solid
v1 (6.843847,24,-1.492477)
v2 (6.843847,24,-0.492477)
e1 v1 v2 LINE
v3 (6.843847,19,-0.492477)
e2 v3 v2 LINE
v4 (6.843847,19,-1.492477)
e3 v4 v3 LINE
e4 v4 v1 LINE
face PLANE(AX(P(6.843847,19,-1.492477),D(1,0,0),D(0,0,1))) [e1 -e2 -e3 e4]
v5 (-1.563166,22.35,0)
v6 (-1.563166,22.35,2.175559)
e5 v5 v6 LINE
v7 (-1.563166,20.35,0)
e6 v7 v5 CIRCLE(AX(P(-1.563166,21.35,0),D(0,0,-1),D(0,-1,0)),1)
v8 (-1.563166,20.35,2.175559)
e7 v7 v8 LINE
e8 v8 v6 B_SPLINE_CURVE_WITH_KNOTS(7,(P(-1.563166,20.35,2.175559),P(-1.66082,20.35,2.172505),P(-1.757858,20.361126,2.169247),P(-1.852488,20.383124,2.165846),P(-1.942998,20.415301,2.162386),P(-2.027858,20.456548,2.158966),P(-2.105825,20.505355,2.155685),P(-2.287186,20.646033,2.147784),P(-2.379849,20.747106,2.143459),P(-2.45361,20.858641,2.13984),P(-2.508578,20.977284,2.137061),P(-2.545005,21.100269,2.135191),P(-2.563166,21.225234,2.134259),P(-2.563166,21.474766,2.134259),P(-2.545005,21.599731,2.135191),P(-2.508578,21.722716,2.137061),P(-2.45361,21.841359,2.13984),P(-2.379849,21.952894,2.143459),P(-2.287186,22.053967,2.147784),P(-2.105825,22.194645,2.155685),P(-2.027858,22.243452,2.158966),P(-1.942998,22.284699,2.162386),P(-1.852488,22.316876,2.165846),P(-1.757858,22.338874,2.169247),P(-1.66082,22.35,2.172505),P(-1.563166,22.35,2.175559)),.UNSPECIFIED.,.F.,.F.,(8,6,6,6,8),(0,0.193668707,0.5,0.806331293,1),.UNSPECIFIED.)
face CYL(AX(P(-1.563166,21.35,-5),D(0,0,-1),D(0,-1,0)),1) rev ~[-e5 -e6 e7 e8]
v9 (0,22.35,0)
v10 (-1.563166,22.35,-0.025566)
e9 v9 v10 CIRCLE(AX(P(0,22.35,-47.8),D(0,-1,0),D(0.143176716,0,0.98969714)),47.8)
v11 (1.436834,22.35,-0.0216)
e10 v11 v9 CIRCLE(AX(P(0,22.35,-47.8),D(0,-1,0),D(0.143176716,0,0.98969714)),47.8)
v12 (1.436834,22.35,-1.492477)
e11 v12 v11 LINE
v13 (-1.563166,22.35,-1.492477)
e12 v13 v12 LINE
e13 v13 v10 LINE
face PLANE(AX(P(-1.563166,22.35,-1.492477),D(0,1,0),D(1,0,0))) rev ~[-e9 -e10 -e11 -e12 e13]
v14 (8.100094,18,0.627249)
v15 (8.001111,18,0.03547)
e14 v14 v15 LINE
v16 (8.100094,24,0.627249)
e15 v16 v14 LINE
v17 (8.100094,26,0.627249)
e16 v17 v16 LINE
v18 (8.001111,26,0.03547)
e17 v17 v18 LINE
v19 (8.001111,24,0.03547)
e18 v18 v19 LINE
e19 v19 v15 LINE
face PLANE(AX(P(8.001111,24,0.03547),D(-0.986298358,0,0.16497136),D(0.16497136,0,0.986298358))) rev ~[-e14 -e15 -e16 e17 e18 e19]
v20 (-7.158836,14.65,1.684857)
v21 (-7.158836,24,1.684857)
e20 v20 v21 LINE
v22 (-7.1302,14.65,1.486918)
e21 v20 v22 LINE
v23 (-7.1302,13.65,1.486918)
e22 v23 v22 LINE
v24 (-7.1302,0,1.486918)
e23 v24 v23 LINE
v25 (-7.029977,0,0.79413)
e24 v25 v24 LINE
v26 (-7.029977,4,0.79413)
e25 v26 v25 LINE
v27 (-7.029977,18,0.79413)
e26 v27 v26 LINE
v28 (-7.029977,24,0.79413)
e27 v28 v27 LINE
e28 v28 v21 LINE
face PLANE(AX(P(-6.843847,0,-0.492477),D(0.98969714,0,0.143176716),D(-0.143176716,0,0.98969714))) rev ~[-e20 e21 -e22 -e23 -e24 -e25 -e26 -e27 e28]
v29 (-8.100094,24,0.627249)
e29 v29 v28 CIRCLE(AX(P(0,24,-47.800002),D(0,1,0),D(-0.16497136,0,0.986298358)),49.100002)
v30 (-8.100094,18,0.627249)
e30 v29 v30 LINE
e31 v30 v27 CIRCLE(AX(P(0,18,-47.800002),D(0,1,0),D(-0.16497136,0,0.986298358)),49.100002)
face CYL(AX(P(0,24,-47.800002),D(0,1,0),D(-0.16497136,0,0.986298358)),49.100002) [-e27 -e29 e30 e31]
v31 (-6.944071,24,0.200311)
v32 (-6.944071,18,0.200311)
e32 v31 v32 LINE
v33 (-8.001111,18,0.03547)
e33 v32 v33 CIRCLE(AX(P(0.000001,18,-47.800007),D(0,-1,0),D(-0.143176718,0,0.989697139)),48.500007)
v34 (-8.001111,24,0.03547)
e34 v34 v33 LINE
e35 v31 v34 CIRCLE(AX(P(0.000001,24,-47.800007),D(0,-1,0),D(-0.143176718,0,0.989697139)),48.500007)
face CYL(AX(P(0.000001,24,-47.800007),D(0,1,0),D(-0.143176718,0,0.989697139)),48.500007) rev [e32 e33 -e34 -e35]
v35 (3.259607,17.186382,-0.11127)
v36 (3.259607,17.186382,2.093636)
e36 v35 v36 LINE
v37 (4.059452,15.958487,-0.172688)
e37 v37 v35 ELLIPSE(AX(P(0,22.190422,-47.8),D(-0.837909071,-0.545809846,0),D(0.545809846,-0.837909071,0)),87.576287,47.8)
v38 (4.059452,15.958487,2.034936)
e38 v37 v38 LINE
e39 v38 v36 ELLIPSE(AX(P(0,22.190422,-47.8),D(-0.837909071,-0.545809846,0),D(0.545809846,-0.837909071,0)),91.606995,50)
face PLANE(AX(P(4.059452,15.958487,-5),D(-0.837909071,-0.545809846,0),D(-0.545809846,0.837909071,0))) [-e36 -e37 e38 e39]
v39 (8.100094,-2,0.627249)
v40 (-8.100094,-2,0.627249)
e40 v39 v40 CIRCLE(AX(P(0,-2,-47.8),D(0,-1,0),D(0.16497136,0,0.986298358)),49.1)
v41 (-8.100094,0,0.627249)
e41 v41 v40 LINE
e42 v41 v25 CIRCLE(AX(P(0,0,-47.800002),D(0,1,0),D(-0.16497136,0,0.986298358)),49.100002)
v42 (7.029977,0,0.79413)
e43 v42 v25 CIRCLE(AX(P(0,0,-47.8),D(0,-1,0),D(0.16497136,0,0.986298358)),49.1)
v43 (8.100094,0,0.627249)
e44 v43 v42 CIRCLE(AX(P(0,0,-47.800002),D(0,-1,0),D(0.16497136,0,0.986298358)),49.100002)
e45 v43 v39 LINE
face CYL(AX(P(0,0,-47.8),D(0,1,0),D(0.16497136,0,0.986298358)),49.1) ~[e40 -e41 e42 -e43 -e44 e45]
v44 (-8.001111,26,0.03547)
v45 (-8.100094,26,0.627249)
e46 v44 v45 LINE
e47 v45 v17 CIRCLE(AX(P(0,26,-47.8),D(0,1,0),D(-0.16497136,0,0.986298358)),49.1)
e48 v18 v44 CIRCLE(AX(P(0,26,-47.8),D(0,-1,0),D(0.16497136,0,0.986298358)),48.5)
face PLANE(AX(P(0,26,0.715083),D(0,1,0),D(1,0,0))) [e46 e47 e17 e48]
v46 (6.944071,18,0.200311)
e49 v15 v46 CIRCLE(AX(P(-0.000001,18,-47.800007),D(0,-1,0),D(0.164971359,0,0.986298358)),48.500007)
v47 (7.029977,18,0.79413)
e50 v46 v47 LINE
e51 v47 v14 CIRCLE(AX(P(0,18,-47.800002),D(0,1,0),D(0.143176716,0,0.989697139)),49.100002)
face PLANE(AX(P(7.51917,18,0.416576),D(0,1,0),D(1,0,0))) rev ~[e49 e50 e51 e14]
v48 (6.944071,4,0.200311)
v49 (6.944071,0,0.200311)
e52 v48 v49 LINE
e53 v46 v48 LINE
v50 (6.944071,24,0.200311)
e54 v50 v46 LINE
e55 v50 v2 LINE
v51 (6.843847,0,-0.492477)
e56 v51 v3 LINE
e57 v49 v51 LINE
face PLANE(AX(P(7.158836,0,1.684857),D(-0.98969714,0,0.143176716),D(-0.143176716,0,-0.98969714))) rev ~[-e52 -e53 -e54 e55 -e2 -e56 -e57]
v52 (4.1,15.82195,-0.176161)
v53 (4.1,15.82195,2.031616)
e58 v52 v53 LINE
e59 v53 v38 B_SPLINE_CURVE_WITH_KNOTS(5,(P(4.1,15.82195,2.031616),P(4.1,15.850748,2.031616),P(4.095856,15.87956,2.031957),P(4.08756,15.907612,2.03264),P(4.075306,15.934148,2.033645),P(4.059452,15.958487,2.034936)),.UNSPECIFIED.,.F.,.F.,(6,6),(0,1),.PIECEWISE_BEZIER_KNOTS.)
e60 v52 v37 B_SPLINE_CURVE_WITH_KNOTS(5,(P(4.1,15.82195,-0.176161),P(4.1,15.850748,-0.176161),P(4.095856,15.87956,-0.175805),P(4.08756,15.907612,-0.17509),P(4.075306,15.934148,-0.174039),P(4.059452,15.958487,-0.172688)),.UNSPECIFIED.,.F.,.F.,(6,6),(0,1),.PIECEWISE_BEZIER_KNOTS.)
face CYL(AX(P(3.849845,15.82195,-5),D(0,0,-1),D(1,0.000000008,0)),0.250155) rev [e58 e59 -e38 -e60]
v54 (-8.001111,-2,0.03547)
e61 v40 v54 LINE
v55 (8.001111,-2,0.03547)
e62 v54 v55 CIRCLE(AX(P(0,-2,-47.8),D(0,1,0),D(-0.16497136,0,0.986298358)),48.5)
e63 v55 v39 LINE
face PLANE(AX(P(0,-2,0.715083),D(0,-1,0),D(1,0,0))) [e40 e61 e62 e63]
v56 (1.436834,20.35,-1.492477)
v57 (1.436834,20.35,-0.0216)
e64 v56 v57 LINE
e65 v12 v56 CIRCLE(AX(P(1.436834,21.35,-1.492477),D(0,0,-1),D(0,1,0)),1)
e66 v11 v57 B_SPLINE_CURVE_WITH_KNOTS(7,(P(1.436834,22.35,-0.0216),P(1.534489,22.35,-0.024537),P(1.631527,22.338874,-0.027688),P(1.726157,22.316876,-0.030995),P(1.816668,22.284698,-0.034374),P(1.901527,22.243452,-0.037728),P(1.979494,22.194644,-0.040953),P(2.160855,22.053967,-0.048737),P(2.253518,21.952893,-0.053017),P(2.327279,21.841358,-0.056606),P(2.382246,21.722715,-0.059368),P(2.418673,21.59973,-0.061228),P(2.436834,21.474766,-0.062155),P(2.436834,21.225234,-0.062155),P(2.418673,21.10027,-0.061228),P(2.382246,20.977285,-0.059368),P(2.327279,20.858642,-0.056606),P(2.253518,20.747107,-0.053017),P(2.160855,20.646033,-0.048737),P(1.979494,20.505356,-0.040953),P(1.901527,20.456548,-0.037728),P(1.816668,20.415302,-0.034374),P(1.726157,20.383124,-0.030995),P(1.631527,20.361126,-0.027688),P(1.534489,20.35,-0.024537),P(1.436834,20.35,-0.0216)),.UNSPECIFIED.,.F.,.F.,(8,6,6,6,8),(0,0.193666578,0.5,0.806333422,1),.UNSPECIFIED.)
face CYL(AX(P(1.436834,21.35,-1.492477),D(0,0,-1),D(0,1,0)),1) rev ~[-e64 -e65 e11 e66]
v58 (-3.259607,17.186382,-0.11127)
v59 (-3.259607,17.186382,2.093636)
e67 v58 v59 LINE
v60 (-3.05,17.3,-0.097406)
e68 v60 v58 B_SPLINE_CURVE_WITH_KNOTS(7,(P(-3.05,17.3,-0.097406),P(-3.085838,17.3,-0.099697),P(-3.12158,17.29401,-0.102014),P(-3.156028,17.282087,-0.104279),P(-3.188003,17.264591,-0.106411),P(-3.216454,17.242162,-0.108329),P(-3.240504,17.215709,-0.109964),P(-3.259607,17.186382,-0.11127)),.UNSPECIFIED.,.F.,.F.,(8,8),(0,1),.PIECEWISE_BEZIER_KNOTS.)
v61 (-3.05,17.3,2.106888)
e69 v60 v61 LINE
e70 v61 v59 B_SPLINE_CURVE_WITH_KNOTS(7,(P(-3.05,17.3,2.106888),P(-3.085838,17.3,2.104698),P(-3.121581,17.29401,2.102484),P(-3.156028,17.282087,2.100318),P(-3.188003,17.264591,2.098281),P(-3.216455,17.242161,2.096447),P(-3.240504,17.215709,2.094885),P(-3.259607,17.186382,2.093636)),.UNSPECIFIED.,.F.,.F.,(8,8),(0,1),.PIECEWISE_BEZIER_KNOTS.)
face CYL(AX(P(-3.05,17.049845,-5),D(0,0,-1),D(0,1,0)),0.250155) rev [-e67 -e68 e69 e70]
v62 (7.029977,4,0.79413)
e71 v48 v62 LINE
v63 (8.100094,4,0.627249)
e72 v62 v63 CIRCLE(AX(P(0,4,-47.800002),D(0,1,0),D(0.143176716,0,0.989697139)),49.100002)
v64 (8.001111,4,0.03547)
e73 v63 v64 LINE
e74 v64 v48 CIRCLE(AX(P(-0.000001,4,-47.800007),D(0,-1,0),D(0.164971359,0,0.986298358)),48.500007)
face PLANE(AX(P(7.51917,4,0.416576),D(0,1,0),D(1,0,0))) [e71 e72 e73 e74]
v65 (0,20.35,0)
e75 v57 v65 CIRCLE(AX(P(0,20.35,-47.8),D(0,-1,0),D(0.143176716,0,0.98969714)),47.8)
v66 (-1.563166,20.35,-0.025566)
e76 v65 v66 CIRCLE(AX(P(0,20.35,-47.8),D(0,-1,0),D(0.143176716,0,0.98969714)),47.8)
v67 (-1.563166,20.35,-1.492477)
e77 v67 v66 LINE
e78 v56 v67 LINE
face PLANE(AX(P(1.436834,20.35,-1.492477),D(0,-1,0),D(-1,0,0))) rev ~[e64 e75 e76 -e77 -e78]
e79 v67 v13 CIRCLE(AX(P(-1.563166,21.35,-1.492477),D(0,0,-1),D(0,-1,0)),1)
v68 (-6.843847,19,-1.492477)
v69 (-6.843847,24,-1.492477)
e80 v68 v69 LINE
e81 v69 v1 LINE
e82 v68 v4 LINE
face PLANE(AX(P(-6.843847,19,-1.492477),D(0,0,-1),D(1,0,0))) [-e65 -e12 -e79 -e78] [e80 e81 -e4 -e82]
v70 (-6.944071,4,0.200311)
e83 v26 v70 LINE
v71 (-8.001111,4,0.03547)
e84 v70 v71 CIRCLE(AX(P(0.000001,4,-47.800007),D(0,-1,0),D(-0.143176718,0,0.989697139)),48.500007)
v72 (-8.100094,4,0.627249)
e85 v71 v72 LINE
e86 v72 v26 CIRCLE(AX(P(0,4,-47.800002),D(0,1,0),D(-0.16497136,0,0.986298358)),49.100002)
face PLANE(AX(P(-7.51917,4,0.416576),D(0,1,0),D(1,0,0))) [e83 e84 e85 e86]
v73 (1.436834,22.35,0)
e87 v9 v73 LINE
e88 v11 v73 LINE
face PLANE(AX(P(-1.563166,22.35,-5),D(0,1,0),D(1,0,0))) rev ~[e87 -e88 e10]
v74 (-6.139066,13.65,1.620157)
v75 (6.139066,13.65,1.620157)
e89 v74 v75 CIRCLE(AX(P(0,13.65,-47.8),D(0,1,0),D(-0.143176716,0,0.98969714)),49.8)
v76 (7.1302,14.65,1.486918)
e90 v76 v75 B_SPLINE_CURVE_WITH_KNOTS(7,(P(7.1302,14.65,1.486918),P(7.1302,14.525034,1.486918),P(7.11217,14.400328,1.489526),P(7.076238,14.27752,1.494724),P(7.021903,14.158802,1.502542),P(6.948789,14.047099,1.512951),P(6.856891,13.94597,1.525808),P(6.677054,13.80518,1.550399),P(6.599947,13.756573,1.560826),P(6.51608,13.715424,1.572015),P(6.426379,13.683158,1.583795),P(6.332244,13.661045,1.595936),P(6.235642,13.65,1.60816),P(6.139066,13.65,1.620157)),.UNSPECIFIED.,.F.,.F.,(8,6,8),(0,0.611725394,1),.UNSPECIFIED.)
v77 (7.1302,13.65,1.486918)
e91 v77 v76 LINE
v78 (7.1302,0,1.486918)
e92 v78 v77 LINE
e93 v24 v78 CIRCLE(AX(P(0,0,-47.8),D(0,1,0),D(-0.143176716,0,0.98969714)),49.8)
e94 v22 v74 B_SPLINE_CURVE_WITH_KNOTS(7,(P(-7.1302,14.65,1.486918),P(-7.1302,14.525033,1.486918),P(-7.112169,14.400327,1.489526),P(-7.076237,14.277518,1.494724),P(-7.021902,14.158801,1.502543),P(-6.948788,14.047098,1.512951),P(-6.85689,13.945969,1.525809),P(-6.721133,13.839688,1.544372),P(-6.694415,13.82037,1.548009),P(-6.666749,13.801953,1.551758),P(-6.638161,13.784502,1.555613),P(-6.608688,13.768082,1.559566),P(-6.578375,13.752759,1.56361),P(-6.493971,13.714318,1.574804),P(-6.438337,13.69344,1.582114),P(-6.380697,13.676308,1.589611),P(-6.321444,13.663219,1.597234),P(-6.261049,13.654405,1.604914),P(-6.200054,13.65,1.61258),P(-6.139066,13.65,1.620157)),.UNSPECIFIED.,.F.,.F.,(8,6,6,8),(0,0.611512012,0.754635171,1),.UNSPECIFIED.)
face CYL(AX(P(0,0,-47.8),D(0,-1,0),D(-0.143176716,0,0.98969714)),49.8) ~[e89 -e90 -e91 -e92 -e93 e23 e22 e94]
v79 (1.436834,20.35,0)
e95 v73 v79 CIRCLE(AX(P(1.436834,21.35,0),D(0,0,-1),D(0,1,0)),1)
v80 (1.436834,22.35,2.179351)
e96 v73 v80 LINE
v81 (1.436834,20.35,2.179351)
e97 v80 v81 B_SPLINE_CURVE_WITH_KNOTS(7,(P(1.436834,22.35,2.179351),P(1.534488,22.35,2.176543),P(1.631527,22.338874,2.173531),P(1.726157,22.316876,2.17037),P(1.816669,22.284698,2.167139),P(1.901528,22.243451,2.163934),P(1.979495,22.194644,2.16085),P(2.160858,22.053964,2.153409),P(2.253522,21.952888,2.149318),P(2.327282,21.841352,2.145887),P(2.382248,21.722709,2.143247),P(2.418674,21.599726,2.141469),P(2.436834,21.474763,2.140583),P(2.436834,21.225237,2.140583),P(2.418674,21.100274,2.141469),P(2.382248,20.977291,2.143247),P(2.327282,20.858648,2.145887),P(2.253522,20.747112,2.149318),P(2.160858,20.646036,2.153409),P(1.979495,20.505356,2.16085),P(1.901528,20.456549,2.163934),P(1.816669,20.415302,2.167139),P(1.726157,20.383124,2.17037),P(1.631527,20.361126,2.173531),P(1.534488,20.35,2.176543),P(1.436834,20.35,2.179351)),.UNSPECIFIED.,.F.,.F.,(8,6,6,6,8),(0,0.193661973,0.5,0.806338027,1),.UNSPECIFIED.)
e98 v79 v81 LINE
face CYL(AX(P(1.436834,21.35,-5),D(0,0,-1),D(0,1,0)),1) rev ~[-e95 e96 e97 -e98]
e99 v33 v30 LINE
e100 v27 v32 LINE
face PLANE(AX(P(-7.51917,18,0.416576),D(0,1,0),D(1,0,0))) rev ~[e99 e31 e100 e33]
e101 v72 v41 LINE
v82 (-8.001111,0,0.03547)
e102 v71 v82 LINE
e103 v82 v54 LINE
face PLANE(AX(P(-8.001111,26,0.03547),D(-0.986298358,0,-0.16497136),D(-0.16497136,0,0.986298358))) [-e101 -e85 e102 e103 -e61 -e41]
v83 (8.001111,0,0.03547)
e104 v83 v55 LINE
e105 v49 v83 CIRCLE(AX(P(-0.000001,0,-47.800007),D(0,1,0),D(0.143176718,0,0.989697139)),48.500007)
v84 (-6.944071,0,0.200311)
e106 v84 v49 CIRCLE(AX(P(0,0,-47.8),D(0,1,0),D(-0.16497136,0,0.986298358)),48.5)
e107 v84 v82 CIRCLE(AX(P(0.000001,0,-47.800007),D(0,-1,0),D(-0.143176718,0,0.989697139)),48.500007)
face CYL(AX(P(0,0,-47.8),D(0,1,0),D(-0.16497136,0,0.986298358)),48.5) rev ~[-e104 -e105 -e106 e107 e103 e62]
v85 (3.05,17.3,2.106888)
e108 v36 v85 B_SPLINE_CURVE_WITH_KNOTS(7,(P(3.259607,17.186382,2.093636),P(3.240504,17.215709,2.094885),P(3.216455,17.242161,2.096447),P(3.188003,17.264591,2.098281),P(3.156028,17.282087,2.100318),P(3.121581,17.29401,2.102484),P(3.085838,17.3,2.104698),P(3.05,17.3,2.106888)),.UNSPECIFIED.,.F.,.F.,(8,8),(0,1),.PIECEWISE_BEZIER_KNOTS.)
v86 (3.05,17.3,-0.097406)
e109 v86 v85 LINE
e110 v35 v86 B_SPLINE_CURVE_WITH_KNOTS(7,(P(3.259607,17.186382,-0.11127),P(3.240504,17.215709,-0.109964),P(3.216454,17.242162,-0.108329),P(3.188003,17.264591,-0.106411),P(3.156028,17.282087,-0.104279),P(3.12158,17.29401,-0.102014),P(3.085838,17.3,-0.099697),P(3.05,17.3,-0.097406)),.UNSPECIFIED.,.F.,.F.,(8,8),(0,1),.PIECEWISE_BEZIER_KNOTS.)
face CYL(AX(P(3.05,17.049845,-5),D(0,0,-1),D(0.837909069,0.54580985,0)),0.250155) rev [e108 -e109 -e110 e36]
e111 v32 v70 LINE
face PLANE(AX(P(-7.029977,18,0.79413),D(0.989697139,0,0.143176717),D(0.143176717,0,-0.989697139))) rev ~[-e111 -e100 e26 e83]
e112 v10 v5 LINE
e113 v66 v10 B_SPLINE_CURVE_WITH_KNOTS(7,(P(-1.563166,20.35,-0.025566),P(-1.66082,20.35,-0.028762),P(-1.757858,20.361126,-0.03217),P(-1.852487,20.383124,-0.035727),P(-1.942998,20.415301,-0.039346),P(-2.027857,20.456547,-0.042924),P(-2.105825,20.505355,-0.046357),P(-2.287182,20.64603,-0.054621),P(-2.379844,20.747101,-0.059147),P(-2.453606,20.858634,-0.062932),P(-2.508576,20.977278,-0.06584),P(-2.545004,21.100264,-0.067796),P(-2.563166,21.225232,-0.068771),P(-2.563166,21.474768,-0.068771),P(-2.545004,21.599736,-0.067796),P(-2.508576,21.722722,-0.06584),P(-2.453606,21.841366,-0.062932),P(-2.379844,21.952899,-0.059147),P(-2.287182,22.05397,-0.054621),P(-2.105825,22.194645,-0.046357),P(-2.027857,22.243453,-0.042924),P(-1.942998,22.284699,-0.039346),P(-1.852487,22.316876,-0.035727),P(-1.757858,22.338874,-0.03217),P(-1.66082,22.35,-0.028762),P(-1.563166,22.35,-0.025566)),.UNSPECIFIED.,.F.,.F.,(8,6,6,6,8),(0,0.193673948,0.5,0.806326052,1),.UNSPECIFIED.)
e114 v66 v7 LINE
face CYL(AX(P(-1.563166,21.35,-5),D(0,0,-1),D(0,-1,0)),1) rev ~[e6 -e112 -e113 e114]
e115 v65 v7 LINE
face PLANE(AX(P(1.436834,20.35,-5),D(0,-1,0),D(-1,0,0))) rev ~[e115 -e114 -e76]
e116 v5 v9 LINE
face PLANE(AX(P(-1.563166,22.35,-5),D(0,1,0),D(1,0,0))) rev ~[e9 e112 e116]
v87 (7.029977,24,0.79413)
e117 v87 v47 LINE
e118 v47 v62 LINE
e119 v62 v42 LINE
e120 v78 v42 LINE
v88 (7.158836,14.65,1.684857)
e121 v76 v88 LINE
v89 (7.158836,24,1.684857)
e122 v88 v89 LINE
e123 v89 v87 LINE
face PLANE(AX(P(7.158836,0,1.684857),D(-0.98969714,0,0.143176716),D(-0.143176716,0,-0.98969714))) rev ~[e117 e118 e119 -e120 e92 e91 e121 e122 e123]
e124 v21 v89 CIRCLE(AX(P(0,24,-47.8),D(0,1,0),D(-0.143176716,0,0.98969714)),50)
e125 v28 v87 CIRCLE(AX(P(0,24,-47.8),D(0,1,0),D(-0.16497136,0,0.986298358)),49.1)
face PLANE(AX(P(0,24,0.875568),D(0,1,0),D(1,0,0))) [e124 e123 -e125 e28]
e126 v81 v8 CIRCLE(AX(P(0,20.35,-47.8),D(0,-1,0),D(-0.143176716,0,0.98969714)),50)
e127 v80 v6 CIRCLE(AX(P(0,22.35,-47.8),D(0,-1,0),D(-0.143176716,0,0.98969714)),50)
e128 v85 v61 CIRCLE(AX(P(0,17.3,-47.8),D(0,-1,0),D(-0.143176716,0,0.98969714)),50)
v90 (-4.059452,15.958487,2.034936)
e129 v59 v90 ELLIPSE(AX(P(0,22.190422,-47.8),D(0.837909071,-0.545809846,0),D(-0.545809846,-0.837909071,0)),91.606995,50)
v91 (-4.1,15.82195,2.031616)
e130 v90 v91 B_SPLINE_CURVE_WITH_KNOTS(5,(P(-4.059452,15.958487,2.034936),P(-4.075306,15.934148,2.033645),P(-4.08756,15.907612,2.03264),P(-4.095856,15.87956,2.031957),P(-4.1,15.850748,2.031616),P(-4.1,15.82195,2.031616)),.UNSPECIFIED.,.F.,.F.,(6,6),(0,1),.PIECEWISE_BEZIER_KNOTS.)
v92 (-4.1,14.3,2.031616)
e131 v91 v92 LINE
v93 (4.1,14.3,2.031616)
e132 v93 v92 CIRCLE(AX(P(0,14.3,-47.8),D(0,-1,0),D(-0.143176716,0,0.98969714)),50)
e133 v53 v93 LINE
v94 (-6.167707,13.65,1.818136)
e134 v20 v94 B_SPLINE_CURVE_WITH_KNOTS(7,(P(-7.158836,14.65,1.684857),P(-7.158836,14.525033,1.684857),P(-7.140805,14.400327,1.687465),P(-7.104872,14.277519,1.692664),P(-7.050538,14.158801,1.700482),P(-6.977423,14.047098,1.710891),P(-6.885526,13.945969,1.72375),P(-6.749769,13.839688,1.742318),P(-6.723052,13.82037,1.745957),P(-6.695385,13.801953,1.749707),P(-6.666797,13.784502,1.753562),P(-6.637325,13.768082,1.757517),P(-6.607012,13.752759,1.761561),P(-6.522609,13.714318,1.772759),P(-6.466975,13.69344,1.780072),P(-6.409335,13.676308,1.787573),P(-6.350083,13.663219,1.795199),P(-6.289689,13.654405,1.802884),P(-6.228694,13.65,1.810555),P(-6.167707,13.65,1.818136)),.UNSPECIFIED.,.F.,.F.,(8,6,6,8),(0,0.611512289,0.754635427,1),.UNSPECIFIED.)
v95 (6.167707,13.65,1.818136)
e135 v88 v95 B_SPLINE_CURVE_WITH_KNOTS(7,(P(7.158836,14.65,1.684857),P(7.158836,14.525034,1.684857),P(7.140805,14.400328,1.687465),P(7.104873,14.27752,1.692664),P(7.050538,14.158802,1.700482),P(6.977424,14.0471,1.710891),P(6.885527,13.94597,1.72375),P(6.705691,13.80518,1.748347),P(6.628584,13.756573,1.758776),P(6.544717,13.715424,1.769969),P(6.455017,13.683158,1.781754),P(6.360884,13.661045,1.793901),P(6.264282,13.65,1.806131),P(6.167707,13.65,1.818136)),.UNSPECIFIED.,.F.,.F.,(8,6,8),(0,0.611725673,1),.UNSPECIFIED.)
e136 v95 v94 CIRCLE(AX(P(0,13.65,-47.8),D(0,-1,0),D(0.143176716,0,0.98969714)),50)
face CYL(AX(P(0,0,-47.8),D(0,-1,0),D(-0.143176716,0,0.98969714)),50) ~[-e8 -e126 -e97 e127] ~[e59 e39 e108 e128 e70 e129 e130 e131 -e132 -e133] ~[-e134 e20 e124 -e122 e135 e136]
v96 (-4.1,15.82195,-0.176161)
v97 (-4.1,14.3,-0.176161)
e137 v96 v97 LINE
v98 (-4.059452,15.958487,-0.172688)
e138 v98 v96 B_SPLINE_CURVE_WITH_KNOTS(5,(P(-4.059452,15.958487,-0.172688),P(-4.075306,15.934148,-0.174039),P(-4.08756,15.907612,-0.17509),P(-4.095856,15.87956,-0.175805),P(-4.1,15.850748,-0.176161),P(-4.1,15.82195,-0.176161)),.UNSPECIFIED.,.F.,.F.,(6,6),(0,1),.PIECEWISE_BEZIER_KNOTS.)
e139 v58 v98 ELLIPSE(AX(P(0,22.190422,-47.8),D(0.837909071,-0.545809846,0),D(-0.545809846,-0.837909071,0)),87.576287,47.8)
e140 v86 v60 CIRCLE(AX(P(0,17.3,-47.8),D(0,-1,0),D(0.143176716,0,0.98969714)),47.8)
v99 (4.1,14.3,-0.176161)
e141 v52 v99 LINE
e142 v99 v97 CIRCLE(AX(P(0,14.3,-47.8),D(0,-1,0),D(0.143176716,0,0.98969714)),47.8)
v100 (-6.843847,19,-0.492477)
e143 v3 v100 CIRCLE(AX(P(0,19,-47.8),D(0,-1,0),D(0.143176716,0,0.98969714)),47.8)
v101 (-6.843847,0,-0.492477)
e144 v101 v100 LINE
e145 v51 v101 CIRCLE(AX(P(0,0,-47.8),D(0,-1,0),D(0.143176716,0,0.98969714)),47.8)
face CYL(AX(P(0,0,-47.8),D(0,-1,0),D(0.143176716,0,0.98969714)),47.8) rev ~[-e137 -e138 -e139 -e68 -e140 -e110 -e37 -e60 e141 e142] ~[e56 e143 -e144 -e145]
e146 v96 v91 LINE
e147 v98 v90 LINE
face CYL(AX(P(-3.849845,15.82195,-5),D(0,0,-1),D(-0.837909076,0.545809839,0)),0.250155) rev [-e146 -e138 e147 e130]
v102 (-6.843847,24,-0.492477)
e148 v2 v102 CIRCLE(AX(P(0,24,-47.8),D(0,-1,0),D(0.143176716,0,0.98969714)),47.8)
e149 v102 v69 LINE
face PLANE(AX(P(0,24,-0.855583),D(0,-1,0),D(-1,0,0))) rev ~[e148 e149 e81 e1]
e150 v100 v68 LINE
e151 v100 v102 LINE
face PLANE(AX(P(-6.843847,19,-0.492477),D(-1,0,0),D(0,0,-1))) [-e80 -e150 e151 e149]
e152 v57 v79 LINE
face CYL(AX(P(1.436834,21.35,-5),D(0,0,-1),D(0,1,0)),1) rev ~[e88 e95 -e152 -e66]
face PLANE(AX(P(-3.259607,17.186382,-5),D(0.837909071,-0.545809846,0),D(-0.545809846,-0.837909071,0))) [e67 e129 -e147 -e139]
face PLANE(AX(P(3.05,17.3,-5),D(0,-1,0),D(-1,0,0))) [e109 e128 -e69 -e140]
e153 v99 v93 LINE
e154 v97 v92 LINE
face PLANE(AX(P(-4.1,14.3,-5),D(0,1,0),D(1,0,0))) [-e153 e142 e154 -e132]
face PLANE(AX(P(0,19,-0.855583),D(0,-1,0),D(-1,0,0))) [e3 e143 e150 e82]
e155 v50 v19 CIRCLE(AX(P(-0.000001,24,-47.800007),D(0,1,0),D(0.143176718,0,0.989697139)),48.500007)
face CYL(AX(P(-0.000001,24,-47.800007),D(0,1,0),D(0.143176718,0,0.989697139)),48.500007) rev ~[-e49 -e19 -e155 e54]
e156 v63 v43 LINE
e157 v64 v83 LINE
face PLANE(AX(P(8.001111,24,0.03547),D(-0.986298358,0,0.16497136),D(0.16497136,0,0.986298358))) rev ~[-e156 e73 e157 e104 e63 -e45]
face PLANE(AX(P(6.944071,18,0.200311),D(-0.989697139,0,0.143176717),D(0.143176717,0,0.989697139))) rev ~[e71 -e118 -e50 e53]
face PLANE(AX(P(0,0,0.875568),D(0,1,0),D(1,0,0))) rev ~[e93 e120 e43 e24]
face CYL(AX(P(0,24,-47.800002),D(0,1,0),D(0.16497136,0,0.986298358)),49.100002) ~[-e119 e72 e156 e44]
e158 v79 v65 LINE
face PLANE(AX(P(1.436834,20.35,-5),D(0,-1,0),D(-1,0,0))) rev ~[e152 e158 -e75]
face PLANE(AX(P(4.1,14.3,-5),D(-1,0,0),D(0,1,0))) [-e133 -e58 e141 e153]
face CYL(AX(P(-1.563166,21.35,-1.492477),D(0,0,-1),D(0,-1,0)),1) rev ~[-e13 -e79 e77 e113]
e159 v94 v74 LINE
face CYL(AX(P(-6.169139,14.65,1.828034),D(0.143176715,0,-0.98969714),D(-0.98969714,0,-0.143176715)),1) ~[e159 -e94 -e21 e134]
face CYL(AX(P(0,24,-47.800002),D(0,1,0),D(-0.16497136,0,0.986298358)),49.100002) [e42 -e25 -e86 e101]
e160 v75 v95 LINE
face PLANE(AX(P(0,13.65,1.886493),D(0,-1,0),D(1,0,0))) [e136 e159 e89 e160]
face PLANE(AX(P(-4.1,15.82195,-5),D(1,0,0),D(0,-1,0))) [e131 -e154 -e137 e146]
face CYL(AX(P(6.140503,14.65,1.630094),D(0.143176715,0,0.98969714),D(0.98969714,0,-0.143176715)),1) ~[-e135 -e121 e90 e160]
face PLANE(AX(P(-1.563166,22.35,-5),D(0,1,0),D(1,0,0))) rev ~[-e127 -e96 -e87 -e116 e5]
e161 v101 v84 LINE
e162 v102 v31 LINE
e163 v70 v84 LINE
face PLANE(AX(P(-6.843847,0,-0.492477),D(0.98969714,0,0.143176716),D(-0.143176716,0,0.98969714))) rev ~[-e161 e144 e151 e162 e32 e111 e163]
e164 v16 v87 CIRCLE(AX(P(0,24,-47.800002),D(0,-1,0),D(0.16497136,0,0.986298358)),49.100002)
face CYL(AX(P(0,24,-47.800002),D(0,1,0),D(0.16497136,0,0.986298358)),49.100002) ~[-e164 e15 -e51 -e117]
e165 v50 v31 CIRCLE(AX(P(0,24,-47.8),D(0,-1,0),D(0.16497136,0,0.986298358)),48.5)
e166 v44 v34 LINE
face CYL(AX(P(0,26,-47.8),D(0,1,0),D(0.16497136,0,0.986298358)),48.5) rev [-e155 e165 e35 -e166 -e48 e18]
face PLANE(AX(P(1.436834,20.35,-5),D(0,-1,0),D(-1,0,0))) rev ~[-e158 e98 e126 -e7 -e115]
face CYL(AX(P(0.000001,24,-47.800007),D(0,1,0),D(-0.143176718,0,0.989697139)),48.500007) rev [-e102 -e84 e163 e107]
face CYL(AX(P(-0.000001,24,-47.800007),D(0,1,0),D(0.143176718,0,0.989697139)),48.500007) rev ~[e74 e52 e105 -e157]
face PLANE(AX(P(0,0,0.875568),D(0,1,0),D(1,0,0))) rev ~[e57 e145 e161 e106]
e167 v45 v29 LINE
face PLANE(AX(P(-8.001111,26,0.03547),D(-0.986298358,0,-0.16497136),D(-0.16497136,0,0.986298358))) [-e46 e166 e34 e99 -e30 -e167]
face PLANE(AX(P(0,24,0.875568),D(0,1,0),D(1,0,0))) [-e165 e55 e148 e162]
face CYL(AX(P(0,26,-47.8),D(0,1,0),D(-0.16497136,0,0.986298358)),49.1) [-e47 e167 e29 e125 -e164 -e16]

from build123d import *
from build123d.topology import SkipClean

# Parameters (mm, degrees)
EXTRUDE_1_DEPTH          = 24
CUT_EXTRUDE_2_DEPTH      = 5
CUT_EXTRUDE_2_DEPTH_BACK = 5
EXTRUDE_2_DEPTH          = 24
EXTRUDE_START            = 2
EXTRUDE_3_DEPTH          = 2
EXTRUDE_4_DEPTH          = 2
CUT_EXTRUDE_3_DEPTH      = 13.65
FILLET_1_R               = 1
CUT_EXTRUDE_START        = -8
CUT_EXTRUDE_5_DEPTH      = 14
EXTRUDE_START_2          = -5
EXTRUDE_5_DEPTH          = 5
CUT_EXTRUDE_START_2      = -1.49247673
CUT_EXTRUDE_6_DEPTH      = 1.49247673


with BuildPart() as part:
    # Эскиз1 → Бобышка-Вытянуть1 (new body)
    with BuildSketch(Plane(origin=(0, 0, 0), x_dir=(1, 0, 0), z_dir=(0, 1, 0))):
        with BuildLine():
            Line((-6.84384702, 0.49247673), (-7.158835795, -1.684856977))
            ThreePointArc((-7.158835795, -1.684856977), (0, -2.2), (7.158835795, -1.684856977))
            Line((7.158835795, -1.684856977), (6.84384702, 0.49247673))
            ThreePointArc((6.84384702, 0.49247673), (0, 0), (-6.84384702, 0.49247673))
        make_face()
    extrude(amount=EXTRUDE_1_DEPTH)

    # Эскиз2 → Вырез-Вытянуть2 (cut, two sides: drawn at the far end of the back side and taken through both)
    with BuildSketch(Plane.XY.offset(-CUT_EXTRUDE_2_DEPTH_BACK)):
        with BuildLine():
            Line((3.05, 17.3), (-3.05, 17.3))
            ThreePointArc((-3.05, 17.3), (-3.169210201, 17.269768771), (-3.259607324, 17.186381965))
            Line((-3.259607324, 17.186381965), (-4.059452109, 15.958486928))
            ThreePointArc((-4.059452109, 15.958486928), (-4.089648868, 15.893165149), (-4.1, 15.821949749))
            Line((-4.1, 15.821949749), (-4.1, 14.788048333))
            Line((-4.1, 14.788048333), (-4.1, 14.3))
            Line((-4.1, 14.3), (4.1, 14.3))
            Line((4.1, 14.3), (4.1, 14.788048333))
            Line((4.1, 14.788048333), (4.1, 15.821949749))
            ThreePointArc((4.1, 15.821949749), (4.089648868, 15.893165149), (4.059452109, 15.958486928))
            Line((4.059452109, 15.958486928), (3.259607324, 17.186381965))
            ThreePointArc((3.259607324, 17.186381965), (3.169210201, 17.269768771), (3.05, 17.3))
        make_face()
        with BuildLine():
            Line((-0.063165968, 22.35), (1.436834032, 22.35))
            ThreePointArc((1.436834032, 22.35), (2.436834032, 21.35), (1.436834032, 20.35))
            Line((1.436834032, 20.35), (-1.563165968, 20.35))
            ThreePointArc((-1.563165968, 20.35), (-2.563165968, 21.35), (-1.563165968, 22.35))
            Line((-1.563165968, 22.35), (-0.063165968, 22.35))
        make_face()
    extrude(amount=CUT_EXTRUDE_2_DEPTH + CUT_EXTRUDE_2_DEPTH_BACK, mode=Mode.SUBTRACT)

    # Эскиз3 → Бобышка-Вытянуть2 (add)
    with BuildSketch(Plane(origin=(0, 24, 0), x_dir=(1, 0, 0), z_dir=(0, 1, 0))):
        with BuildLine():
            Line((-8.001110971, -0.035470346), (-8.100093787, -0.627249361))
            ThreePointArc((-8.100093787, -0.627249361), (-7.565495415, -0.713640135), (-7.029976751, -0.794129552))
            Line((-7.029976751, -0.794129552), (-6.944070721, -0.200311268))
            ThreePointArc((-6.944070721, -0.200311268), (-7.473045369, -0.120805428), (-8.001110971, -0.035470346))
        make_face()
        with BuildLine():
            Line((8.001110971, -0.035470346), (8.100093787, -0.627249361))
            ThreePointArc((8.100093787, -0.627249361), (7.565495415, -0.713640135), (7.029976751, -0.794129552))
            Line((7.029976751, -0.794129552), (6.944070721, -0.200311268))
            ThreePointArc((6.944070721, -0.200311268), (7.473045369, -0.120805428), (8.001110971, -0.035470346))
        make_face()
    extrude(amount=-EXTRUDE_2_DEPTH)

    # Эскиз4 → Бобышка-Вытянуть3 (add)
    with SkipClean():  # the faces are left unmerged after this step: merging them gives an invalid solid
        with BuildSketch(Plane(origin=(0, 24, 0), x_dir=(1, 0, 0), z_dir=(0, 1, 0)).offset(EXTRUDE_START)):
            with BuildLine():
                Line((-8.001110971, -0.035470346), (-8.100093787, -0.627249361))
                ThreePointArc((-8.100093787, -0.627249361), (0, -1.3), (8.100093787, -0.627249361))
                Line((8.100093787, -0.627249361), (8.001110971, -0.035470346))
                ThreePointArc((8.001110971, -0.035470346), (0, -0.7), (-8.001110971, -0.035470346))
            make_face()
        extrude(amount=-EXTRUDE_3_DEPTH)

    # Эскиз5 → Бобышка-Вытянуть4 (add)
    with SkipClean():  # the faces are left unmerged after this step: merging them gives an invalid solid
        with BuildSketch(Plane.XZ):
            with BuildLine():
                Line((8.001110971, 0.035470346), (8.100093787, 0.627249361))
                ThreePointArc((8.100093787, 0.627249361), (0, 1.3), (-8.100093787, 0.627249361))
                Line((-8.100093787, 0.627249361), (-8.001110971, 0.035470346))
                ThreePointArc((-8.001110971, 0.035470346), (0, 0.7), (8.001110971, 0.035470346))
            make_face()
        extrude(amount=EXTRUDE_4_DEPTH)

    # Эскиз6 → Вырез-Вытянуть3 (cut)
    with SkipClean():  # the faces are left unmerged after this step: merging them gives an invalid solid
        with BuildSketch(Plane.XZ):
            with BuildLine():
                Line((-7.158835795, 1.684856977), (-7.130200452, 1.486917549))
                ThreePointArc((-7.130200452, 1.486917549), (0, 2), (7.130200452, 1.486917549))
                Line((7.130200452, 1.486917549), (7.158835795, 1.684856977))
                ThreePointArc((7.158835795, 1.684856977), (0, 2.2), (-7.158835795, 1.684856977))
            make_face()
        extrude(amount=-CUT_EXTRUDE_3_DEPTH, mode=Mode.SUBTRACT)

    # Скругление1
    fillet_1_edges = [part.edges().sort_by_distance(p)[0] for p in [
        (7.144518124, 13.65, 1.585887263),
        (-7.144518124, 13.65, 1.585887263),
    ]]
    fillet(fillet_1_edges, radius=FILLET_1_R)

    # Эскиз8 → Вырез-Вытянуть5 (cut)
    with SkipClean():  # the faces are left unmerged after this step: merging them gives an invalid solid
        with BuildSketch(Plane(origin=(0, 26, 0), x_dir=(1, 0, 0), z_dir=(0, 1, 0)).offset(CUT_EXTRUDE_START)):
            with BuildLine():
                Line((8.100093787, -0.627249361), (8.001110971, -0.035470346))
                ThreePointArc((8.001110971, -0.035470346), (7.473045369, -0.120805428), (6.944070721, -0.200311268))
                Line((6.944070721, -0.200311268), (7.029976751, -0.794129552))
                ThreePointArc((7.029976751, -0.794129552), (7.565495415, -0.713640135), (8.100093787, -0.627249361))
            make_face()
            with BuildLine():
                Line((-8.001110971, -0.035470346), (-8.100093787, -0.627249361))
                ThreePointArc((-8.100093787, -0.627249361), (-7.565495415, -0.713640135), (-7.029976751, -0.794129552))
                Line((-7.029976751, -0.794129552), (-6.944070721, -0.200311268))
                ThreePointArc((-6.944070721, -0.200311268), (-7.473045369, -0.120805428), (-8.001110971, -0.035470346))
            make_face()
        extrude(amount=-CUT_EXTRUDE_5_DEPTH, mode=Mode.SUBTRACT)

    # Эскиз9 → Бобышка-Вытянуть5 (add)
    with SkipClean():  # the faces are left unmerged after this step: merging them gives an invalid solid
        with BuildSketch(Plane(origin=(0, 24, 0), x_dir=(1, 0, 0), z_dir=(0, 1, 0)).offset(EXTRUDE_START_2)):
            with BuildLine():
                Line((-6.84384702, 0.49247673), (-6.84384702, 1.49247673))
                Line((-6.84384702, 1.49247673), (6.84384702, 1.49247673))
                Line((6.84384702, 1.49247673), (6.84384702, 0.49247673))
                ThreePointArc((6.84384702, 0.49247673), (0, 0), (-6.84384702, 0.49247673))
            make_face()
        extrude(amount=EXTRUDE_5_DEPTH)

    # Эскиз10 → Вырез-Вытянуть6 (cut)
    with SkipClean():  # the faces are left unmerged after this step: merging them gives an invalid solid
        with BuildSketch(Plane.XY.offset(CUT_EXTRUDE_START_2)):
            with BuildLine():
                Line((1.436834032, 20.35), (-1.563165968, 20.35))
                ThreePointArc((-1.563165968, 20.35), (-2.563165968, 21.35), (-1.563165968, 22.35))
                Line((-1.563165968, 22.35), (1.436834032, 22.35))
                ThreePointArc((1.436834032, 22.35), (2.436834032, 21.35), (1.436834032, 20.35))
            make_face()
        extrude(amount=CUT_EXTRUDE_6_DEPTH, mode=Mode.SUBTRACT)


solid = part.part
